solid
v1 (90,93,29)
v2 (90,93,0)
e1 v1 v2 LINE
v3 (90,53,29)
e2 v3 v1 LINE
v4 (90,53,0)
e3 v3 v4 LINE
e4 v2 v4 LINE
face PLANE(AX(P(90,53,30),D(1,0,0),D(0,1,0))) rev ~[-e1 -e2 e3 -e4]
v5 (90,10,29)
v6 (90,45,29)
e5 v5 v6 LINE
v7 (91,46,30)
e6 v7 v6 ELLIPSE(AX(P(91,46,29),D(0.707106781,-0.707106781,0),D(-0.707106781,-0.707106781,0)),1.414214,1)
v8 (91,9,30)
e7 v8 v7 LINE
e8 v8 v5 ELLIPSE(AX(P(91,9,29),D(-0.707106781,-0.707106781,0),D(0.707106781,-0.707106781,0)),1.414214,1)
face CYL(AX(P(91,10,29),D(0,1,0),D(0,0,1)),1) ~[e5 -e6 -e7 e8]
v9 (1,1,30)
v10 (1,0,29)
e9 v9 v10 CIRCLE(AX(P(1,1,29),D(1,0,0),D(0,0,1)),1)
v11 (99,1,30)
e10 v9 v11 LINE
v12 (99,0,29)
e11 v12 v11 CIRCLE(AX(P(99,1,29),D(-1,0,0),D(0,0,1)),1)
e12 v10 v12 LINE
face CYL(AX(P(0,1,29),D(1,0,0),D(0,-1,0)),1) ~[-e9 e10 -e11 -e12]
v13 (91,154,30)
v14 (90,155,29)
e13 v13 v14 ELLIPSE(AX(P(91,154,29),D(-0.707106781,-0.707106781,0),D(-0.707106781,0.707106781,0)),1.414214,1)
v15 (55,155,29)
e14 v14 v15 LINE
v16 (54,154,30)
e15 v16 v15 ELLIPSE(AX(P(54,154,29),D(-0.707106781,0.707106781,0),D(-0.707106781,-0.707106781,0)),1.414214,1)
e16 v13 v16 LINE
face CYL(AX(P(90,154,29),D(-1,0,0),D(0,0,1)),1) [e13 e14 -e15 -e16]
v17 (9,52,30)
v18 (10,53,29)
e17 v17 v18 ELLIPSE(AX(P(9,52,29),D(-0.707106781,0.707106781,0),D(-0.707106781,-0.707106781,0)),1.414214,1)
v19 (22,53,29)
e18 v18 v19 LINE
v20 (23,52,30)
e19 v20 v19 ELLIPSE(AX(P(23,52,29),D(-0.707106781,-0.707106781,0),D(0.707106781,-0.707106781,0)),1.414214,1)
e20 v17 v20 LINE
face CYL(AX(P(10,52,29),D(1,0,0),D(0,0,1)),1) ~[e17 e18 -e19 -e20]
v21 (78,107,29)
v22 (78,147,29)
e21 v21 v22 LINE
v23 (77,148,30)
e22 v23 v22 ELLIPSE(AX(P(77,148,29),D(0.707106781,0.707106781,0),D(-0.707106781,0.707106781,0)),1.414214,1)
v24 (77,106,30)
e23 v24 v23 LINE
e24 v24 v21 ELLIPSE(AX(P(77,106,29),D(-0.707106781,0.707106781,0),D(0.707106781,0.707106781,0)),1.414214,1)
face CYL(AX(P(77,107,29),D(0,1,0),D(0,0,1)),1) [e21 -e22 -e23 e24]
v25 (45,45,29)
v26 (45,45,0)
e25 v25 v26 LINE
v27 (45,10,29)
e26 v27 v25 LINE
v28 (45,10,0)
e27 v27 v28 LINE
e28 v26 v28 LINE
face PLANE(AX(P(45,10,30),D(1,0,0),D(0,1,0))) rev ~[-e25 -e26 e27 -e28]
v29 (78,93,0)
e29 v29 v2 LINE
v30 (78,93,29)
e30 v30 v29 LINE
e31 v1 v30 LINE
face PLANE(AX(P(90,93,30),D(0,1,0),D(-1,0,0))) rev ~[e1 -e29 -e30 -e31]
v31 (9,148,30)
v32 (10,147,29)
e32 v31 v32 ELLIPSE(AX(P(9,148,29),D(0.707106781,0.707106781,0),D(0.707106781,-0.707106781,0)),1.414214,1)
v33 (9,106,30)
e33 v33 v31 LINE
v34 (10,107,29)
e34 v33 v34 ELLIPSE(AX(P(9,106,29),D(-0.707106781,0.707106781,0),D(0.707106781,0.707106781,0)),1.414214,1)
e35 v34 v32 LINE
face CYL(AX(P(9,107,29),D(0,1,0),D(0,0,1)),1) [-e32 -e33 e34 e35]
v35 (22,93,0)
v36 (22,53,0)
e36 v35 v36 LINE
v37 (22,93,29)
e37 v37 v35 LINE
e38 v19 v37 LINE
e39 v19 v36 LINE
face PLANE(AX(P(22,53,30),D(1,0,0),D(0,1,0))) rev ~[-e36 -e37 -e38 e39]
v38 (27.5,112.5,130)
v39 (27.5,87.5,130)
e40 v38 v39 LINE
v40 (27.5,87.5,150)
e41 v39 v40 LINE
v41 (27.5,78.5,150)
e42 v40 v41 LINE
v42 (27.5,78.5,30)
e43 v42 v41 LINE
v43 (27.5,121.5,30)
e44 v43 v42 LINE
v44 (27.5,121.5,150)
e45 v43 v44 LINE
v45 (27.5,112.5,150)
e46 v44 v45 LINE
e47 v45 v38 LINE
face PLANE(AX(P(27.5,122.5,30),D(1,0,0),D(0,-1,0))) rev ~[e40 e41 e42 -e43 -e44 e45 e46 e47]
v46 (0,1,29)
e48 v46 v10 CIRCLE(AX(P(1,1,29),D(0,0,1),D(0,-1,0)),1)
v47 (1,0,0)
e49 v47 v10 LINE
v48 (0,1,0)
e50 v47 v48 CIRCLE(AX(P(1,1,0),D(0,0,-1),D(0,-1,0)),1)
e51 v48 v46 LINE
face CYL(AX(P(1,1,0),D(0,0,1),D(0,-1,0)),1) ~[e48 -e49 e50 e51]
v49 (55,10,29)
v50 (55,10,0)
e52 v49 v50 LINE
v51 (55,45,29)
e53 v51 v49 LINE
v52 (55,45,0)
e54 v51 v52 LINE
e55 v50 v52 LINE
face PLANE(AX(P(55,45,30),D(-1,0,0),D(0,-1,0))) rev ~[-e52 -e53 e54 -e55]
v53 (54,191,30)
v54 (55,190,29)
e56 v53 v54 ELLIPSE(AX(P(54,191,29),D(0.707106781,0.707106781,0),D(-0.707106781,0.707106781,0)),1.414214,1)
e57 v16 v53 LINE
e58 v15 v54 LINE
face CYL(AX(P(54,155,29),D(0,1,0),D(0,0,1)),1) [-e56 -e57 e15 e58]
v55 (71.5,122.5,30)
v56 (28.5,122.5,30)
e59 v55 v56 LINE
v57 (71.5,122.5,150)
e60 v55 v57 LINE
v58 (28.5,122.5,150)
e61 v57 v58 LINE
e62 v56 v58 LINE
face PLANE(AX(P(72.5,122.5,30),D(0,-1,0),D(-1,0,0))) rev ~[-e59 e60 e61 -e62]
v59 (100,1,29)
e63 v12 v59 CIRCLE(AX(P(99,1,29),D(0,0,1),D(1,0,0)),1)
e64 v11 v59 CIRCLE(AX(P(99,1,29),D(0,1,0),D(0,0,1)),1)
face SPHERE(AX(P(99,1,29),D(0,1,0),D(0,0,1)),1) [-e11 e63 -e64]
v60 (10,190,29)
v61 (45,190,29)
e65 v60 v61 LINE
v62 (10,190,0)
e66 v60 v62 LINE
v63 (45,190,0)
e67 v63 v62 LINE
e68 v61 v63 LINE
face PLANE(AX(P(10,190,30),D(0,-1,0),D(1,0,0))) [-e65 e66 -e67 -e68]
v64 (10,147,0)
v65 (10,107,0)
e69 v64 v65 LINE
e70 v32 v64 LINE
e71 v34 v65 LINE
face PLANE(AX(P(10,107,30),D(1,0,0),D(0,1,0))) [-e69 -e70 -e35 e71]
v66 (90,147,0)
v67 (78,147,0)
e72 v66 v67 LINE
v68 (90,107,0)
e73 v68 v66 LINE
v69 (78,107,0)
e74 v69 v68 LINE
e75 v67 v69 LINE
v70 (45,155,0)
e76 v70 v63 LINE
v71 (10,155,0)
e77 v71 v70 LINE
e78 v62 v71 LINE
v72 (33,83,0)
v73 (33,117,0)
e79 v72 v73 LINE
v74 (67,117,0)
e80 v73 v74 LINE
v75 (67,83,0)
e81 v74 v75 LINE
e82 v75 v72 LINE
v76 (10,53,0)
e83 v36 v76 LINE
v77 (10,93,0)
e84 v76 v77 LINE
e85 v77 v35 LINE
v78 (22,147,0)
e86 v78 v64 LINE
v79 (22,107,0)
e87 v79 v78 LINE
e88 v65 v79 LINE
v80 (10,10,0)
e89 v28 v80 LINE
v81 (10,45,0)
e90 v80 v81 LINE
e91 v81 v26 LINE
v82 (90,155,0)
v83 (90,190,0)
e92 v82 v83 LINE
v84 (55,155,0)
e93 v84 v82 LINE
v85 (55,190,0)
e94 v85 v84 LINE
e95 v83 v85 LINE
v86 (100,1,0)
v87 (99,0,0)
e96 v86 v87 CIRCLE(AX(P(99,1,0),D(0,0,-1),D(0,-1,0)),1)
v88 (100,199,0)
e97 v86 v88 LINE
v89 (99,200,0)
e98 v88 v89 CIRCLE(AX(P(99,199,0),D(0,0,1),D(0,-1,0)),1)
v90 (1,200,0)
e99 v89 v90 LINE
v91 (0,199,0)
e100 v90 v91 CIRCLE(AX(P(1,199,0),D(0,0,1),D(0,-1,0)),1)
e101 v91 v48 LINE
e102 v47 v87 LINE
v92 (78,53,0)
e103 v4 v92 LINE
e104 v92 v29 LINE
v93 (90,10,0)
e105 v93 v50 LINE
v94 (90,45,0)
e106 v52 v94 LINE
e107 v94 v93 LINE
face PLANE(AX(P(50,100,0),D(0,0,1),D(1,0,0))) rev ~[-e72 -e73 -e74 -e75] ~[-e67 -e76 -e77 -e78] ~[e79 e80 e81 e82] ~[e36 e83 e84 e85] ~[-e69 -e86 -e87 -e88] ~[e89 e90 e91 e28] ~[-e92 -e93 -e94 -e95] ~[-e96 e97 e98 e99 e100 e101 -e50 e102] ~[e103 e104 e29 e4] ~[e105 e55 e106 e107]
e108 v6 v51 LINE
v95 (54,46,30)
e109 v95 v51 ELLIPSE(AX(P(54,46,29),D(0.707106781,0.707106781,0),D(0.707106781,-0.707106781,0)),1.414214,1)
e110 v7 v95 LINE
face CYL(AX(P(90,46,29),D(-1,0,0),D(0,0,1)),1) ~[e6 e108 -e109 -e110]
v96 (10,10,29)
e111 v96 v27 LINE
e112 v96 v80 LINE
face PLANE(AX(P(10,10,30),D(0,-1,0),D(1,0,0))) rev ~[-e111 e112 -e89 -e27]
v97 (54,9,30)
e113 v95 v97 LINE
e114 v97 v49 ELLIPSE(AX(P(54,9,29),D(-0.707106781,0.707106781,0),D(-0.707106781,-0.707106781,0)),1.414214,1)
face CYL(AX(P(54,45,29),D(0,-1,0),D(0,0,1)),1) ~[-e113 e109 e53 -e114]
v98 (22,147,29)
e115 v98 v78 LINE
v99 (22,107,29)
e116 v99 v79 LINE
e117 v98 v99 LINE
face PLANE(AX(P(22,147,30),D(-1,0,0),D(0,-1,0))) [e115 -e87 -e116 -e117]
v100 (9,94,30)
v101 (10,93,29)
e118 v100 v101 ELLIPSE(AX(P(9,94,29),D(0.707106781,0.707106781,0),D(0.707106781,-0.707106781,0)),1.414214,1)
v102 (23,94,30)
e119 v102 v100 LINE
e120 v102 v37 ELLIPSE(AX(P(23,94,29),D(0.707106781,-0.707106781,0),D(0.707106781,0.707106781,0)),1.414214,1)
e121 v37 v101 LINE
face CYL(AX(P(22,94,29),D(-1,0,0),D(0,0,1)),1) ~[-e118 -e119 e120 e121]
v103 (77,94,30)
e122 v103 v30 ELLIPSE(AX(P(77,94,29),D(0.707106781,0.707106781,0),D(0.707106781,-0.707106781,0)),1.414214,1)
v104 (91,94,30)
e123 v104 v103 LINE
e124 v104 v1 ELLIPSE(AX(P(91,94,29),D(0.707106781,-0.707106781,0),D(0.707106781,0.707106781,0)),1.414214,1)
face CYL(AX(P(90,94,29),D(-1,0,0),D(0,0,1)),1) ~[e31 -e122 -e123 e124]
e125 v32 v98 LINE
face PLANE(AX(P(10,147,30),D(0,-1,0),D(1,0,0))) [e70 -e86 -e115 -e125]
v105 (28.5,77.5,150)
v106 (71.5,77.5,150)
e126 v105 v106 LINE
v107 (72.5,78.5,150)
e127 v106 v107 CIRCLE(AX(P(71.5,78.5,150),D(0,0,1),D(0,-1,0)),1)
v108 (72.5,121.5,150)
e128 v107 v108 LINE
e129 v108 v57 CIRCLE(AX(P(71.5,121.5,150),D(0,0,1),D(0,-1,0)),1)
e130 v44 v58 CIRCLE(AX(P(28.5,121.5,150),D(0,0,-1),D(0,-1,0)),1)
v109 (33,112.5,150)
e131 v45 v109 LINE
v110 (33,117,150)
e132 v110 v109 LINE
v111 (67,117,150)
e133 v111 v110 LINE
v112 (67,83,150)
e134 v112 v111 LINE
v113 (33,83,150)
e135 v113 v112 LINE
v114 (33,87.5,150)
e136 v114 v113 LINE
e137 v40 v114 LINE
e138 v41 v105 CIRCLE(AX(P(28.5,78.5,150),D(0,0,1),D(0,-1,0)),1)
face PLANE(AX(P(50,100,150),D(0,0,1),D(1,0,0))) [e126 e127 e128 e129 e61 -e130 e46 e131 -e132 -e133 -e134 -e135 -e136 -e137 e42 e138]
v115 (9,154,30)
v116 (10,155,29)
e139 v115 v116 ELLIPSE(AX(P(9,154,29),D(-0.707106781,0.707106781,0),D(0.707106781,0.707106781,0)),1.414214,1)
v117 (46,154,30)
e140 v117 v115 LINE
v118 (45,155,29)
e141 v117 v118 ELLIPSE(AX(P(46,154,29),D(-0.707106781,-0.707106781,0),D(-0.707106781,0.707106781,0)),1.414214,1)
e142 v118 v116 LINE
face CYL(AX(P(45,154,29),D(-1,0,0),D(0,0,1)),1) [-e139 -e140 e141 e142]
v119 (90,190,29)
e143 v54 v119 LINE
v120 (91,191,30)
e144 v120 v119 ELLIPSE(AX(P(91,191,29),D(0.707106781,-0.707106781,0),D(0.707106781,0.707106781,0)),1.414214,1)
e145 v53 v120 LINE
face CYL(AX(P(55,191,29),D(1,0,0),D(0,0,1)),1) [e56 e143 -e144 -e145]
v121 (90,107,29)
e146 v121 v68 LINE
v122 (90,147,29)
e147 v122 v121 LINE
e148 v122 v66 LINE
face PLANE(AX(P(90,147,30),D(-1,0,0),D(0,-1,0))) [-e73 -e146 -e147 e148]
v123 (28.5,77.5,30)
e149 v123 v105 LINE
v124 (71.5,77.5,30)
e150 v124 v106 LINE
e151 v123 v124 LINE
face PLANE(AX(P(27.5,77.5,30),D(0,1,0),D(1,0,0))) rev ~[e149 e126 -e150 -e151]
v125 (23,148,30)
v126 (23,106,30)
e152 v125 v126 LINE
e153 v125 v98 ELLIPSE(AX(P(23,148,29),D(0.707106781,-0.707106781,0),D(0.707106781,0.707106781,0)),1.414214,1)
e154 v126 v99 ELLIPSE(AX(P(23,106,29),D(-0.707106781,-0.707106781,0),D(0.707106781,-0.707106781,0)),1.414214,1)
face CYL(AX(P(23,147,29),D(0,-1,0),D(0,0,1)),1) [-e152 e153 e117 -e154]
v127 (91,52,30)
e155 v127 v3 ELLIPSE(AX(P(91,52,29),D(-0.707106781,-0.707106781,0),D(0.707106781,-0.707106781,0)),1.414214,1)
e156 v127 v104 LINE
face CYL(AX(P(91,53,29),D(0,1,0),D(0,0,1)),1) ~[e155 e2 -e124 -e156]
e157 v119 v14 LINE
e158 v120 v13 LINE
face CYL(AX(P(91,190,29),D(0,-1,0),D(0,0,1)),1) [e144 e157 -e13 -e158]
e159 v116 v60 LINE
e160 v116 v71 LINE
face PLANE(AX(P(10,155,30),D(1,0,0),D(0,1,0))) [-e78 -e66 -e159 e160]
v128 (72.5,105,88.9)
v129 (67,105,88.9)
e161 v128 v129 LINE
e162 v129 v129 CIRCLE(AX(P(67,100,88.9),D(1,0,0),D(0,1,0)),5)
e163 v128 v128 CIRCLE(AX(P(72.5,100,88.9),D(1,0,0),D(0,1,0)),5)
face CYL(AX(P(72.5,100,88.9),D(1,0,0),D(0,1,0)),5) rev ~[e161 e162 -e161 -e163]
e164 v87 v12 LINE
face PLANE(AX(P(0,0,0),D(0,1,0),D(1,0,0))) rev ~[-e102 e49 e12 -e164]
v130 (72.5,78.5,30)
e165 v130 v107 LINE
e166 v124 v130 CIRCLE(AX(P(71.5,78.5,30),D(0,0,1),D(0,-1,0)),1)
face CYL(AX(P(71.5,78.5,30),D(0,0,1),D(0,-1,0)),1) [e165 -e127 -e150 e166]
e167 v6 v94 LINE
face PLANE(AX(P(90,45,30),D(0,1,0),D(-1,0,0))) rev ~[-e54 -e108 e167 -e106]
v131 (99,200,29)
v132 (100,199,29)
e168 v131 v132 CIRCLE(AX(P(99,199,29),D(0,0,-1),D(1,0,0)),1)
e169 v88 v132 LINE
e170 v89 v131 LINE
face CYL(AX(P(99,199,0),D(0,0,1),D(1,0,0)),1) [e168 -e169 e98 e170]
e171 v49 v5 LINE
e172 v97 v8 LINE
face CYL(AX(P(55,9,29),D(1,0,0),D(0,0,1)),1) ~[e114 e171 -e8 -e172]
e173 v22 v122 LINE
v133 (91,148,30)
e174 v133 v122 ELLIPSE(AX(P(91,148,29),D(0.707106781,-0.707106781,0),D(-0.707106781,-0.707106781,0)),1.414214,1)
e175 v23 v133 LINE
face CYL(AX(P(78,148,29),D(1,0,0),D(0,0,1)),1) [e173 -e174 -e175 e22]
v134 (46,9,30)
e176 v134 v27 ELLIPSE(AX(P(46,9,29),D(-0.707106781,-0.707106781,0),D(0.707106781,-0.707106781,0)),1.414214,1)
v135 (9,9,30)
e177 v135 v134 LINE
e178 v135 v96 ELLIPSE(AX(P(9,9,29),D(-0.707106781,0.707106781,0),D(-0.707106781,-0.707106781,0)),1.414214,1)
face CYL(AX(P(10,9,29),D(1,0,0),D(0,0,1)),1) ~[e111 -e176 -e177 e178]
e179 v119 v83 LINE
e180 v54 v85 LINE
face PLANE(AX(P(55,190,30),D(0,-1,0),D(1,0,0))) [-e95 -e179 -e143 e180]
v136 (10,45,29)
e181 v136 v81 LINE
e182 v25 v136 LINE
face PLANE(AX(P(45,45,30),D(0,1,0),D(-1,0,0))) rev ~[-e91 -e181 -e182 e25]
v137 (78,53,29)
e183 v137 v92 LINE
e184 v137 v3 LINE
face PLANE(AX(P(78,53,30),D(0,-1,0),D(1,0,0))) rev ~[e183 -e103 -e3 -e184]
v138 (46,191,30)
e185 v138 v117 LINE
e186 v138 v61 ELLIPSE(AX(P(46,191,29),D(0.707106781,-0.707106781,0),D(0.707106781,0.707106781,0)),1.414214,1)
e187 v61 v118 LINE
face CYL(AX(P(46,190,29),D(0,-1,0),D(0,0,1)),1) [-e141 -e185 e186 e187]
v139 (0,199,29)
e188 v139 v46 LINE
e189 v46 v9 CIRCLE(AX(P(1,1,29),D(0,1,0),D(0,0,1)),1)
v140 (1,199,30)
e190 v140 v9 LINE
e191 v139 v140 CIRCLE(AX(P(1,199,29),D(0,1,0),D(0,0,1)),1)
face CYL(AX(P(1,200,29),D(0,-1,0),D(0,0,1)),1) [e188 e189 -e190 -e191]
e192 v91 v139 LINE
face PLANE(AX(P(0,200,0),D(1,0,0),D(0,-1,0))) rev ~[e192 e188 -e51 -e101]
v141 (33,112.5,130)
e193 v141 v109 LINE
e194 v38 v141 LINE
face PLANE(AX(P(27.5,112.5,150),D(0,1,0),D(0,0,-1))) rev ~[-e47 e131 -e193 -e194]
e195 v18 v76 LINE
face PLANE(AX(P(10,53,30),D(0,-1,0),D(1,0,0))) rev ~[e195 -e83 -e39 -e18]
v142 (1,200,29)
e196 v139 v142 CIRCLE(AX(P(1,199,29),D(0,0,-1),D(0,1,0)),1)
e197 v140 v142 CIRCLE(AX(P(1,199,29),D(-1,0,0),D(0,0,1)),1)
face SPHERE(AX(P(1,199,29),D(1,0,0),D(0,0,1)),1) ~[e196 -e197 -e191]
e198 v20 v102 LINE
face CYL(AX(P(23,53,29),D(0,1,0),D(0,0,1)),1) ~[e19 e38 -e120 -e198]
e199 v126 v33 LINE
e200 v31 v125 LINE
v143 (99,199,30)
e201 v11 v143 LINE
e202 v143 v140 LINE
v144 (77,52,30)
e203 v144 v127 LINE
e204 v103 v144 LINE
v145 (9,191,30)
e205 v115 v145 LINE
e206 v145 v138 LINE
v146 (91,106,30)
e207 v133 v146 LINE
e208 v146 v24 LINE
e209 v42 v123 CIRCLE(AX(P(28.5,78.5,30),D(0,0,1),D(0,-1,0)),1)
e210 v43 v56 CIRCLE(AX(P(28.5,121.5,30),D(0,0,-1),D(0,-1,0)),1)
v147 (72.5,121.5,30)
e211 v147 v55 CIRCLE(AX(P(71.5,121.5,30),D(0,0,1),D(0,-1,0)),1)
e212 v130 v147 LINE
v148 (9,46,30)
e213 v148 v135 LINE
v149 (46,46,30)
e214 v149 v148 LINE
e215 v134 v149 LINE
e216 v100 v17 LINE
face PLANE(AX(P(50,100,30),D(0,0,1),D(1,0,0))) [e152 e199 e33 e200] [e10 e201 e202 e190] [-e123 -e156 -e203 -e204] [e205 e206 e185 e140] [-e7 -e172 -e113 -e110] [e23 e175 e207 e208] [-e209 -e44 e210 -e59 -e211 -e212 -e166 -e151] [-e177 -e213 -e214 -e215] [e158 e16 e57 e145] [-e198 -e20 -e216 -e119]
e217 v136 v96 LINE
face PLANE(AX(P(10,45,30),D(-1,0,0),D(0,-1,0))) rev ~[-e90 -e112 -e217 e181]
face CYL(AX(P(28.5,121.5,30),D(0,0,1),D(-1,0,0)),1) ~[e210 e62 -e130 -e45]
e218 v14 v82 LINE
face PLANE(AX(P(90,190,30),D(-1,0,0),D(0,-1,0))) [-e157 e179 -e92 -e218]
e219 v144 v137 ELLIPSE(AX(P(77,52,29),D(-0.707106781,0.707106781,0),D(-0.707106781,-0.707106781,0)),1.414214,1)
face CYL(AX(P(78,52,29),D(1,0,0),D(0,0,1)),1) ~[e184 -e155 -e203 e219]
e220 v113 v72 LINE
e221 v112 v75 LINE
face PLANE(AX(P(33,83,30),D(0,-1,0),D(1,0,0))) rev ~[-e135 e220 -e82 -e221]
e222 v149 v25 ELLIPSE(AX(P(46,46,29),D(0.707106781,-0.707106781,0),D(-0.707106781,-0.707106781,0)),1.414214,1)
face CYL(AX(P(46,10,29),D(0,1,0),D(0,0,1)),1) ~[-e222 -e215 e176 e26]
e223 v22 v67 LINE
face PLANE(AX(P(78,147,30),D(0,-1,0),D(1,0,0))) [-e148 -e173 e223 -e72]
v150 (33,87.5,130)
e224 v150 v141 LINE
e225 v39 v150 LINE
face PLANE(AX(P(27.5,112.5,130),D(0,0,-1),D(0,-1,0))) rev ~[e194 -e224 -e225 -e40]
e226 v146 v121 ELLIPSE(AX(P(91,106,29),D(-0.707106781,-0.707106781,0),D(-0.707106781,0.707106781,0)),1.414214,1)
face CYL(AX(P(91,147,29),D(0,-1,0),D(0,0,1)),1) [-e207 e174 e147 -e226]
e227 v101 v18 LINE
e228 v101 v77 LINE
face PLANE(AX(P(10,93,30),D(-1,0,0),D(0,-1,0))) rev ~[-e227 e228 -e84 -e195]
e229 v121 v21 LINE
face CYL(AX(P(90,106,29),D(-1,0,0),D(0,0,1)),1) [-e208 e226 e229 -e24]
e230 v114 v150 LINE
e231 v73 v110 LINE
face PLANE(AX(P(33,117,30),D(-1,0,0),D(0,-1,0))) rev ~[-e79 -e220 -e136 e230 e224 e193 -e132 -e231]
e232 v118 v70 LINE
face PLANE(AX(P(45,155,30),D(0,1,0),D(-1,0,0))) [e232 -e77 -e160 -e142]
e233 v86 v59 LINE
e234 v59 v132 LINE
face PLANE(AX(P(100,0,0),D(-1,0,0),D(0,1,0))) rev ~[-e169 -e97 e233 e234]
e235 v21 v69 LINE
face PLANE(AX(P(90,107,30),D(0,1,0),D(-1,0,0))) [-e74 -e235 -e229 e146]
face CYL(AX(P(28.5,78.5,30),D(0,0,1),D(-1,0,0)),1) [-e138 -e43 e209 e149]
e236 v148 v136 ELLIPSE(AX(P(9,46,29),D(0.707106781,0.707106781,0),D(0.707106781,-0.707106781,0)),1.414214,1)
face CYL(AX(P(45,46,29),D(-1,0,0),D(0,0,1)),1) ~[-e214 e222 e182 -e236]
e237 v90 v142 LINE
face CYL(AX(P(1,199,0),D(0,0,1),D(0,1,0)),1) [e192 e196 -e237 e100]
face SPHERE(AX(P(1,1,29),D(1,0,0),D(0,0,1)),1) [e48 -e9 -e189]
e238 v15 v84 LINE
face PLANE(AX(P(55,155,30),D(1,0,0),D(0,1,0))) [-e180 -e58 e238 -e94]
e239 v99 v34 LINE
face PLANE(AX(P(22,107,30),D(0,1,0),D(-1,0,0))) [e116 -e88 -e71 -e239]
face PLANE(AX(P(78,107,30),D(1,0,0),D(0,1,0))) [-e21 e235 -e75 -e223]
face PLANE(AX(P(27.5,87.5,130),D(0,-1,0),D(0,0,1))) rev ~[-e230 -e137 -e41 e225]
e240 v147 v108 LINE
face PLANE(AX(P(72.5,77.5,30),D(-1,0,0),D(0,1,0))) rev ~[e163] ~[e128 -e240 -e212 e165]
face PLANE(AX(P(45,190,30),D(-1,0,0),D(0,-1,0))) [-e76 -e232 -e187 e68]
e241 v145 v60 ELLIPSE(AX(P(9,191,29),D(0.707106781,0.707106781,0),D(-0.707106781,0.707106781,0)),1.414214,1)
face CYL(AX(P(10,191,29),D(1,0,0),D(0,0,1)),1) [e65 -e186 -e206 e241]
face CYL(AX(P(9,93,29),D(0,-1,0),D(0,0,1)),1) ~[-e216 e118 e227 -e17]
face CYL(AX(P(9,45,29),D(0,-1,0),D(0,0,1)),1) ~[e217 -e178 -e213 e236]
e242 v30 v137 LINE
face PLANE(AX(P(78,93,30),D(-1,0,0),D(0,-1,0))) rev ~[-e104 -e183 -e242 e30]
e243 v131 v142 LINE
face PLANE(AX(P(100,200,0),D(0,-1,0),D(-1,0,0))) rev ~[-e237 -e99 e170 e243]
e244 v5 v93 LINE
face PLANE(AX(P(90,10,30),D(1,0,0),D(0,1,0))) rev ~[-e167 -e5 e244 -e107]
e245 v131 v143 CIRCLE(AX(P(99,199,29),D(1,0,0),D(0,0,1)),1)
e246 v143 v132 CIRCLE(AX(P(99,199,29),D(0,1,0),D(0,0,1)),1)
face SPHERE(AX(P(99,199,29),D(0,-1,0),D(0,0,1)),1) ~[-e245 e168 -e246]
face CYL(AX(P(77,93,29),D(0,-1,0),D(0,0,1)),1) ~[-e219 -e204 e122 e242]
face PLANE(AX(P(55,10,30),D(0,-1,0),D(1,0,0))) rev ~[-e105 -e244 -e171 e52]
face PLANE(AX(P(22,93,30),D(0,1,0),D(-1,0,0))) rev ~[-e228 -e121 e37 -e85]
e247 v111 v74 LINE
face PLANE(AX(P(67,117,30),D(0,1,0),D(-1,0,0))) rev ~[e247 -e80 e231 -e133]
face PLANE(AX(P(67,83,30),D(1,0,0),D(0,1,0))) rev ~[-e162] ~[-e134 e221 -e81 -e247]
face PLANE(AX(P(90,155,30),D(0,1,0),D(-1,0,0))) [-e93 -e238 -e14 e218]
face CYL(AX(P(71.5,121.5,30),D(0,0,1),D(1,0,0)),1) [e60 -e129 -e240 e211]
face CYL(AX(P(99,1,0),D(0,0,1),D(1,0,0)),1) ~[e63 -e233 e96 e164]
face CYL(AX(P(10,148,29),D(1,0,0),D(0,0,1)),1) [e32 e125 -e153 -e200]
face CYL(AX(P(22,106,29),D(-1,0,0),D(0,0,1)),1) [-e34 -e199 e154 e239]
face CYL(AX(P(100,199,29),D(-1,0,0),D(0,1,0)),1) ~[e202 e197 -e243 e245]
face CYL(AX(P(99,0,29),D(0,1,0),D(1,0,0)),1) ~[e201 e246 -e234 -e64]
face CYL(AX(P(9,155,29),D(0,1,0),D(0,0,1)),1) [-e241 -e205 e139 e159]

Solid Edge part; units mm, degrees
sketch "Sketch1" plane through (0, 0, 0) normal (0, 0, 1) x (1, 0, 0)
  line L0 (100, 0) -> (100, 200)
  line L1 (100, 200) -> (0, 200)
  line L2 (0, 200) -> (0, 0)
  line L3 (0, 0) -> (100, 0)
extrude "Protrusion1" add sketch "Sketch1" along normal blind 30
sketch "Sketch2" plane through (50, 100, 30) normal (0, 0, 1) x (0, 1, 0)
  line L0 (-55, 40) -> (-90, 40)
  line L1 (-90, 40) -> (-90, 5)
  line L2 (-90, 5) -> (-55, 5)
  line L3 (-55, 5) -> (-55, 40)
  line L4 (-7, 40) -> (-47, 40)
  line L5 (-47, 40) -> (-47, 28)
  line L6 (-47, 28) -> (-7, 28)
  line L7 (-7, 28) -> (-7, 40)
  line L8 (7, 40) -> (47, 40)
  line L9 (47, 40) -> (47, 28)
  line L10 (47, 28) -> (7, 28)
  line L11 (7, 28) -> (7, 40)
  line L12 (55, 40) -> (90, 40)
  line L13 (90, 40) -> (90, 5)
  line L14 (90, 5) -> (55, 5)
  line L15 (55, 5) -> (55, 40)
  line L16 (-55, -40) -> (-55, -5)
  line L17 (-55, -5) -> (-90, -5)
  line L18 (-90, -5) -> (-90, -40)
  line L19 (-90, -40) -> (-55, -40)
  line L20 (-7, -28) -> (-47, -28)
  line L21 (-47, -28) -> (-47, -40)
  line L22 (-47, -40) -> (-7, -40)
  line L23 (-7, -40) -> (-7, -28)
  line L24 (7, -28) -> (47, -28)
  line L25 (47, -28) -> (47, -40)
  line L26 (47, -40) -> (7, -40)
  line L27 (7, -40) -> (7, -28)
  line L28 (55, -40) -> (55, -5)
  line L29 (55, -5) -> (90, -5)
  line L30 (90, -5) -> (90, -40)
  line L31 (90, -40) -> (55, -40)
  line L32 (17, -17) -> (17, 17)
  line L33 (17, 17) -> (-17, 17)
  line L34 (-17, 17) -> (-17, -17)
  line L35 (-17, -17) -> (17, -17)
  dimension "D1" = 17
  dimension "D2" = 17
  dimension "D3" = 22.5
  dimension "D4" = 22.5
  dimension "D5" = 35
  dimension "D6" = 35
  dimension "D7" = 10
  dimension "D8" = 10
  dimension "D9" = 35
  dimension "D10" = 35
  dimension "D11" = 10
  dimension "D12" = 10
  dimension "D13" = 40
  dimension "D14" = 12
  dimension "D15" = 10
  dimension "D16" = 8
  dimension "D17" = 40
  dimension "D18" = 12
  dimension "D19" = 8
  dimension "D20" = 10
extrude "Cutout1" cut sketch "Sketch2" against normal up to next
sketch "Sketch3" plane through (50, 100, 30) normal (0, 0, 1) x (0, 1, 0)
  line L0 (22.5, 22.5) -> (-22.5, 22.5)
  line L1 (-22.5, 22.5) -> (-22.5, -22.5)
  line L2 (-22.5, -22.5) -> (22.5, -22.5)
  line L3 (22.5, -22.5) -> (22.5, 22.5)
  line L4 (17, 17) -> (-17, 17)
  line L5 (-17, 17) -> (-17, -17)
  line L6 (-17, -17) -> (17, -17)
  line L7 (17, -17) -> (17, 17)
  dimension "D1" = 17
  dimension "D2" = 17
  dimension "D3" = 22.5
  dimension "D4" = 22.5
  dimension "D5" = 35
  dimension "D6" = 35
  dimension "D7" = 10
  dimension "D8" = 10
  dimension "D9" = 35
  dimension "D10" = 35
  dimension "D11" = 10
  dimension "D12" = 10
  dimension "D13" = 40
  dimension "D14" = 12
  dimension "D15" = 10
  dimension "D16" = 8
  dimension "D17" = 40
  dimension "D18" = 12
  dimension "D19" = 8
  dimension "D20" = 10
extrude "ExtrudedProtrusion_2" add sketch "Sketch3" along normal blind 120
sketch "Sketch4" plane through (72.5, 100, 105) normal (1, 0, 0) x (0, 1, 0)
  circle A0 centre (0, -16.1) radius 5
extrude "Cutout2" cut sketch "Sketch4" against normal up to next
fillet "Round_1" radius 1 44 edges at (100, 100, 30) (50, 0, 30) (50, 200, 30) (0, 100, 30) (0, 200, 15) (100, 200, 15) (100, 0, 15) (0, 0, 15) (72.5, 77.5, 90) (72.5, 122.5, 90) (27.5, 77.5, 90) (27.5, 122.5, 90) (10, 27.5, 30) (27.5, 10, 30) (27.5, 45, 30) (45, 27.5, 30) (55, 27.5, 30) (72.5, 10, 30) (72.5, 45, 30) (90, 27.5, 30) (78, 73, 30) (84, 53, 30) (90, 73, 30) (84, 93, 30) (78, 127, 30) (84, 107, 30) (90, 127, 30) (84, 147, 30) (72.5, 155, 30) (55, 172.5, 30) (72.5, 190, 30) (90, 172.5, 30) (10, 172.5, 30) (27.5, 190, 30) (27.5, 155, 30) (45, 172.5, 30) (10, 73, 30) (16, 53, 30) (22, 73, 30) (16, 93, 30) (16, 147, 30) (22, 127, 30) (10, 127, 30) (16, 107, 30)
sketch "Sketch5" plane through (27.5, 100, 105) normal (-1, 0, 0) x (0, -1, 0)
  line L0 (-12.5, 45) -> (-12.5, 25)
  line L1 (-12.5, 25) -> (12.5, 25)
  line L2 (12.5, 25) -> (12.5, 45)
  line L3 (12.5, 45) -> (-12.5, 45)
extrude "Cutout3" cut sketch "Sketch5" against normal up to next
